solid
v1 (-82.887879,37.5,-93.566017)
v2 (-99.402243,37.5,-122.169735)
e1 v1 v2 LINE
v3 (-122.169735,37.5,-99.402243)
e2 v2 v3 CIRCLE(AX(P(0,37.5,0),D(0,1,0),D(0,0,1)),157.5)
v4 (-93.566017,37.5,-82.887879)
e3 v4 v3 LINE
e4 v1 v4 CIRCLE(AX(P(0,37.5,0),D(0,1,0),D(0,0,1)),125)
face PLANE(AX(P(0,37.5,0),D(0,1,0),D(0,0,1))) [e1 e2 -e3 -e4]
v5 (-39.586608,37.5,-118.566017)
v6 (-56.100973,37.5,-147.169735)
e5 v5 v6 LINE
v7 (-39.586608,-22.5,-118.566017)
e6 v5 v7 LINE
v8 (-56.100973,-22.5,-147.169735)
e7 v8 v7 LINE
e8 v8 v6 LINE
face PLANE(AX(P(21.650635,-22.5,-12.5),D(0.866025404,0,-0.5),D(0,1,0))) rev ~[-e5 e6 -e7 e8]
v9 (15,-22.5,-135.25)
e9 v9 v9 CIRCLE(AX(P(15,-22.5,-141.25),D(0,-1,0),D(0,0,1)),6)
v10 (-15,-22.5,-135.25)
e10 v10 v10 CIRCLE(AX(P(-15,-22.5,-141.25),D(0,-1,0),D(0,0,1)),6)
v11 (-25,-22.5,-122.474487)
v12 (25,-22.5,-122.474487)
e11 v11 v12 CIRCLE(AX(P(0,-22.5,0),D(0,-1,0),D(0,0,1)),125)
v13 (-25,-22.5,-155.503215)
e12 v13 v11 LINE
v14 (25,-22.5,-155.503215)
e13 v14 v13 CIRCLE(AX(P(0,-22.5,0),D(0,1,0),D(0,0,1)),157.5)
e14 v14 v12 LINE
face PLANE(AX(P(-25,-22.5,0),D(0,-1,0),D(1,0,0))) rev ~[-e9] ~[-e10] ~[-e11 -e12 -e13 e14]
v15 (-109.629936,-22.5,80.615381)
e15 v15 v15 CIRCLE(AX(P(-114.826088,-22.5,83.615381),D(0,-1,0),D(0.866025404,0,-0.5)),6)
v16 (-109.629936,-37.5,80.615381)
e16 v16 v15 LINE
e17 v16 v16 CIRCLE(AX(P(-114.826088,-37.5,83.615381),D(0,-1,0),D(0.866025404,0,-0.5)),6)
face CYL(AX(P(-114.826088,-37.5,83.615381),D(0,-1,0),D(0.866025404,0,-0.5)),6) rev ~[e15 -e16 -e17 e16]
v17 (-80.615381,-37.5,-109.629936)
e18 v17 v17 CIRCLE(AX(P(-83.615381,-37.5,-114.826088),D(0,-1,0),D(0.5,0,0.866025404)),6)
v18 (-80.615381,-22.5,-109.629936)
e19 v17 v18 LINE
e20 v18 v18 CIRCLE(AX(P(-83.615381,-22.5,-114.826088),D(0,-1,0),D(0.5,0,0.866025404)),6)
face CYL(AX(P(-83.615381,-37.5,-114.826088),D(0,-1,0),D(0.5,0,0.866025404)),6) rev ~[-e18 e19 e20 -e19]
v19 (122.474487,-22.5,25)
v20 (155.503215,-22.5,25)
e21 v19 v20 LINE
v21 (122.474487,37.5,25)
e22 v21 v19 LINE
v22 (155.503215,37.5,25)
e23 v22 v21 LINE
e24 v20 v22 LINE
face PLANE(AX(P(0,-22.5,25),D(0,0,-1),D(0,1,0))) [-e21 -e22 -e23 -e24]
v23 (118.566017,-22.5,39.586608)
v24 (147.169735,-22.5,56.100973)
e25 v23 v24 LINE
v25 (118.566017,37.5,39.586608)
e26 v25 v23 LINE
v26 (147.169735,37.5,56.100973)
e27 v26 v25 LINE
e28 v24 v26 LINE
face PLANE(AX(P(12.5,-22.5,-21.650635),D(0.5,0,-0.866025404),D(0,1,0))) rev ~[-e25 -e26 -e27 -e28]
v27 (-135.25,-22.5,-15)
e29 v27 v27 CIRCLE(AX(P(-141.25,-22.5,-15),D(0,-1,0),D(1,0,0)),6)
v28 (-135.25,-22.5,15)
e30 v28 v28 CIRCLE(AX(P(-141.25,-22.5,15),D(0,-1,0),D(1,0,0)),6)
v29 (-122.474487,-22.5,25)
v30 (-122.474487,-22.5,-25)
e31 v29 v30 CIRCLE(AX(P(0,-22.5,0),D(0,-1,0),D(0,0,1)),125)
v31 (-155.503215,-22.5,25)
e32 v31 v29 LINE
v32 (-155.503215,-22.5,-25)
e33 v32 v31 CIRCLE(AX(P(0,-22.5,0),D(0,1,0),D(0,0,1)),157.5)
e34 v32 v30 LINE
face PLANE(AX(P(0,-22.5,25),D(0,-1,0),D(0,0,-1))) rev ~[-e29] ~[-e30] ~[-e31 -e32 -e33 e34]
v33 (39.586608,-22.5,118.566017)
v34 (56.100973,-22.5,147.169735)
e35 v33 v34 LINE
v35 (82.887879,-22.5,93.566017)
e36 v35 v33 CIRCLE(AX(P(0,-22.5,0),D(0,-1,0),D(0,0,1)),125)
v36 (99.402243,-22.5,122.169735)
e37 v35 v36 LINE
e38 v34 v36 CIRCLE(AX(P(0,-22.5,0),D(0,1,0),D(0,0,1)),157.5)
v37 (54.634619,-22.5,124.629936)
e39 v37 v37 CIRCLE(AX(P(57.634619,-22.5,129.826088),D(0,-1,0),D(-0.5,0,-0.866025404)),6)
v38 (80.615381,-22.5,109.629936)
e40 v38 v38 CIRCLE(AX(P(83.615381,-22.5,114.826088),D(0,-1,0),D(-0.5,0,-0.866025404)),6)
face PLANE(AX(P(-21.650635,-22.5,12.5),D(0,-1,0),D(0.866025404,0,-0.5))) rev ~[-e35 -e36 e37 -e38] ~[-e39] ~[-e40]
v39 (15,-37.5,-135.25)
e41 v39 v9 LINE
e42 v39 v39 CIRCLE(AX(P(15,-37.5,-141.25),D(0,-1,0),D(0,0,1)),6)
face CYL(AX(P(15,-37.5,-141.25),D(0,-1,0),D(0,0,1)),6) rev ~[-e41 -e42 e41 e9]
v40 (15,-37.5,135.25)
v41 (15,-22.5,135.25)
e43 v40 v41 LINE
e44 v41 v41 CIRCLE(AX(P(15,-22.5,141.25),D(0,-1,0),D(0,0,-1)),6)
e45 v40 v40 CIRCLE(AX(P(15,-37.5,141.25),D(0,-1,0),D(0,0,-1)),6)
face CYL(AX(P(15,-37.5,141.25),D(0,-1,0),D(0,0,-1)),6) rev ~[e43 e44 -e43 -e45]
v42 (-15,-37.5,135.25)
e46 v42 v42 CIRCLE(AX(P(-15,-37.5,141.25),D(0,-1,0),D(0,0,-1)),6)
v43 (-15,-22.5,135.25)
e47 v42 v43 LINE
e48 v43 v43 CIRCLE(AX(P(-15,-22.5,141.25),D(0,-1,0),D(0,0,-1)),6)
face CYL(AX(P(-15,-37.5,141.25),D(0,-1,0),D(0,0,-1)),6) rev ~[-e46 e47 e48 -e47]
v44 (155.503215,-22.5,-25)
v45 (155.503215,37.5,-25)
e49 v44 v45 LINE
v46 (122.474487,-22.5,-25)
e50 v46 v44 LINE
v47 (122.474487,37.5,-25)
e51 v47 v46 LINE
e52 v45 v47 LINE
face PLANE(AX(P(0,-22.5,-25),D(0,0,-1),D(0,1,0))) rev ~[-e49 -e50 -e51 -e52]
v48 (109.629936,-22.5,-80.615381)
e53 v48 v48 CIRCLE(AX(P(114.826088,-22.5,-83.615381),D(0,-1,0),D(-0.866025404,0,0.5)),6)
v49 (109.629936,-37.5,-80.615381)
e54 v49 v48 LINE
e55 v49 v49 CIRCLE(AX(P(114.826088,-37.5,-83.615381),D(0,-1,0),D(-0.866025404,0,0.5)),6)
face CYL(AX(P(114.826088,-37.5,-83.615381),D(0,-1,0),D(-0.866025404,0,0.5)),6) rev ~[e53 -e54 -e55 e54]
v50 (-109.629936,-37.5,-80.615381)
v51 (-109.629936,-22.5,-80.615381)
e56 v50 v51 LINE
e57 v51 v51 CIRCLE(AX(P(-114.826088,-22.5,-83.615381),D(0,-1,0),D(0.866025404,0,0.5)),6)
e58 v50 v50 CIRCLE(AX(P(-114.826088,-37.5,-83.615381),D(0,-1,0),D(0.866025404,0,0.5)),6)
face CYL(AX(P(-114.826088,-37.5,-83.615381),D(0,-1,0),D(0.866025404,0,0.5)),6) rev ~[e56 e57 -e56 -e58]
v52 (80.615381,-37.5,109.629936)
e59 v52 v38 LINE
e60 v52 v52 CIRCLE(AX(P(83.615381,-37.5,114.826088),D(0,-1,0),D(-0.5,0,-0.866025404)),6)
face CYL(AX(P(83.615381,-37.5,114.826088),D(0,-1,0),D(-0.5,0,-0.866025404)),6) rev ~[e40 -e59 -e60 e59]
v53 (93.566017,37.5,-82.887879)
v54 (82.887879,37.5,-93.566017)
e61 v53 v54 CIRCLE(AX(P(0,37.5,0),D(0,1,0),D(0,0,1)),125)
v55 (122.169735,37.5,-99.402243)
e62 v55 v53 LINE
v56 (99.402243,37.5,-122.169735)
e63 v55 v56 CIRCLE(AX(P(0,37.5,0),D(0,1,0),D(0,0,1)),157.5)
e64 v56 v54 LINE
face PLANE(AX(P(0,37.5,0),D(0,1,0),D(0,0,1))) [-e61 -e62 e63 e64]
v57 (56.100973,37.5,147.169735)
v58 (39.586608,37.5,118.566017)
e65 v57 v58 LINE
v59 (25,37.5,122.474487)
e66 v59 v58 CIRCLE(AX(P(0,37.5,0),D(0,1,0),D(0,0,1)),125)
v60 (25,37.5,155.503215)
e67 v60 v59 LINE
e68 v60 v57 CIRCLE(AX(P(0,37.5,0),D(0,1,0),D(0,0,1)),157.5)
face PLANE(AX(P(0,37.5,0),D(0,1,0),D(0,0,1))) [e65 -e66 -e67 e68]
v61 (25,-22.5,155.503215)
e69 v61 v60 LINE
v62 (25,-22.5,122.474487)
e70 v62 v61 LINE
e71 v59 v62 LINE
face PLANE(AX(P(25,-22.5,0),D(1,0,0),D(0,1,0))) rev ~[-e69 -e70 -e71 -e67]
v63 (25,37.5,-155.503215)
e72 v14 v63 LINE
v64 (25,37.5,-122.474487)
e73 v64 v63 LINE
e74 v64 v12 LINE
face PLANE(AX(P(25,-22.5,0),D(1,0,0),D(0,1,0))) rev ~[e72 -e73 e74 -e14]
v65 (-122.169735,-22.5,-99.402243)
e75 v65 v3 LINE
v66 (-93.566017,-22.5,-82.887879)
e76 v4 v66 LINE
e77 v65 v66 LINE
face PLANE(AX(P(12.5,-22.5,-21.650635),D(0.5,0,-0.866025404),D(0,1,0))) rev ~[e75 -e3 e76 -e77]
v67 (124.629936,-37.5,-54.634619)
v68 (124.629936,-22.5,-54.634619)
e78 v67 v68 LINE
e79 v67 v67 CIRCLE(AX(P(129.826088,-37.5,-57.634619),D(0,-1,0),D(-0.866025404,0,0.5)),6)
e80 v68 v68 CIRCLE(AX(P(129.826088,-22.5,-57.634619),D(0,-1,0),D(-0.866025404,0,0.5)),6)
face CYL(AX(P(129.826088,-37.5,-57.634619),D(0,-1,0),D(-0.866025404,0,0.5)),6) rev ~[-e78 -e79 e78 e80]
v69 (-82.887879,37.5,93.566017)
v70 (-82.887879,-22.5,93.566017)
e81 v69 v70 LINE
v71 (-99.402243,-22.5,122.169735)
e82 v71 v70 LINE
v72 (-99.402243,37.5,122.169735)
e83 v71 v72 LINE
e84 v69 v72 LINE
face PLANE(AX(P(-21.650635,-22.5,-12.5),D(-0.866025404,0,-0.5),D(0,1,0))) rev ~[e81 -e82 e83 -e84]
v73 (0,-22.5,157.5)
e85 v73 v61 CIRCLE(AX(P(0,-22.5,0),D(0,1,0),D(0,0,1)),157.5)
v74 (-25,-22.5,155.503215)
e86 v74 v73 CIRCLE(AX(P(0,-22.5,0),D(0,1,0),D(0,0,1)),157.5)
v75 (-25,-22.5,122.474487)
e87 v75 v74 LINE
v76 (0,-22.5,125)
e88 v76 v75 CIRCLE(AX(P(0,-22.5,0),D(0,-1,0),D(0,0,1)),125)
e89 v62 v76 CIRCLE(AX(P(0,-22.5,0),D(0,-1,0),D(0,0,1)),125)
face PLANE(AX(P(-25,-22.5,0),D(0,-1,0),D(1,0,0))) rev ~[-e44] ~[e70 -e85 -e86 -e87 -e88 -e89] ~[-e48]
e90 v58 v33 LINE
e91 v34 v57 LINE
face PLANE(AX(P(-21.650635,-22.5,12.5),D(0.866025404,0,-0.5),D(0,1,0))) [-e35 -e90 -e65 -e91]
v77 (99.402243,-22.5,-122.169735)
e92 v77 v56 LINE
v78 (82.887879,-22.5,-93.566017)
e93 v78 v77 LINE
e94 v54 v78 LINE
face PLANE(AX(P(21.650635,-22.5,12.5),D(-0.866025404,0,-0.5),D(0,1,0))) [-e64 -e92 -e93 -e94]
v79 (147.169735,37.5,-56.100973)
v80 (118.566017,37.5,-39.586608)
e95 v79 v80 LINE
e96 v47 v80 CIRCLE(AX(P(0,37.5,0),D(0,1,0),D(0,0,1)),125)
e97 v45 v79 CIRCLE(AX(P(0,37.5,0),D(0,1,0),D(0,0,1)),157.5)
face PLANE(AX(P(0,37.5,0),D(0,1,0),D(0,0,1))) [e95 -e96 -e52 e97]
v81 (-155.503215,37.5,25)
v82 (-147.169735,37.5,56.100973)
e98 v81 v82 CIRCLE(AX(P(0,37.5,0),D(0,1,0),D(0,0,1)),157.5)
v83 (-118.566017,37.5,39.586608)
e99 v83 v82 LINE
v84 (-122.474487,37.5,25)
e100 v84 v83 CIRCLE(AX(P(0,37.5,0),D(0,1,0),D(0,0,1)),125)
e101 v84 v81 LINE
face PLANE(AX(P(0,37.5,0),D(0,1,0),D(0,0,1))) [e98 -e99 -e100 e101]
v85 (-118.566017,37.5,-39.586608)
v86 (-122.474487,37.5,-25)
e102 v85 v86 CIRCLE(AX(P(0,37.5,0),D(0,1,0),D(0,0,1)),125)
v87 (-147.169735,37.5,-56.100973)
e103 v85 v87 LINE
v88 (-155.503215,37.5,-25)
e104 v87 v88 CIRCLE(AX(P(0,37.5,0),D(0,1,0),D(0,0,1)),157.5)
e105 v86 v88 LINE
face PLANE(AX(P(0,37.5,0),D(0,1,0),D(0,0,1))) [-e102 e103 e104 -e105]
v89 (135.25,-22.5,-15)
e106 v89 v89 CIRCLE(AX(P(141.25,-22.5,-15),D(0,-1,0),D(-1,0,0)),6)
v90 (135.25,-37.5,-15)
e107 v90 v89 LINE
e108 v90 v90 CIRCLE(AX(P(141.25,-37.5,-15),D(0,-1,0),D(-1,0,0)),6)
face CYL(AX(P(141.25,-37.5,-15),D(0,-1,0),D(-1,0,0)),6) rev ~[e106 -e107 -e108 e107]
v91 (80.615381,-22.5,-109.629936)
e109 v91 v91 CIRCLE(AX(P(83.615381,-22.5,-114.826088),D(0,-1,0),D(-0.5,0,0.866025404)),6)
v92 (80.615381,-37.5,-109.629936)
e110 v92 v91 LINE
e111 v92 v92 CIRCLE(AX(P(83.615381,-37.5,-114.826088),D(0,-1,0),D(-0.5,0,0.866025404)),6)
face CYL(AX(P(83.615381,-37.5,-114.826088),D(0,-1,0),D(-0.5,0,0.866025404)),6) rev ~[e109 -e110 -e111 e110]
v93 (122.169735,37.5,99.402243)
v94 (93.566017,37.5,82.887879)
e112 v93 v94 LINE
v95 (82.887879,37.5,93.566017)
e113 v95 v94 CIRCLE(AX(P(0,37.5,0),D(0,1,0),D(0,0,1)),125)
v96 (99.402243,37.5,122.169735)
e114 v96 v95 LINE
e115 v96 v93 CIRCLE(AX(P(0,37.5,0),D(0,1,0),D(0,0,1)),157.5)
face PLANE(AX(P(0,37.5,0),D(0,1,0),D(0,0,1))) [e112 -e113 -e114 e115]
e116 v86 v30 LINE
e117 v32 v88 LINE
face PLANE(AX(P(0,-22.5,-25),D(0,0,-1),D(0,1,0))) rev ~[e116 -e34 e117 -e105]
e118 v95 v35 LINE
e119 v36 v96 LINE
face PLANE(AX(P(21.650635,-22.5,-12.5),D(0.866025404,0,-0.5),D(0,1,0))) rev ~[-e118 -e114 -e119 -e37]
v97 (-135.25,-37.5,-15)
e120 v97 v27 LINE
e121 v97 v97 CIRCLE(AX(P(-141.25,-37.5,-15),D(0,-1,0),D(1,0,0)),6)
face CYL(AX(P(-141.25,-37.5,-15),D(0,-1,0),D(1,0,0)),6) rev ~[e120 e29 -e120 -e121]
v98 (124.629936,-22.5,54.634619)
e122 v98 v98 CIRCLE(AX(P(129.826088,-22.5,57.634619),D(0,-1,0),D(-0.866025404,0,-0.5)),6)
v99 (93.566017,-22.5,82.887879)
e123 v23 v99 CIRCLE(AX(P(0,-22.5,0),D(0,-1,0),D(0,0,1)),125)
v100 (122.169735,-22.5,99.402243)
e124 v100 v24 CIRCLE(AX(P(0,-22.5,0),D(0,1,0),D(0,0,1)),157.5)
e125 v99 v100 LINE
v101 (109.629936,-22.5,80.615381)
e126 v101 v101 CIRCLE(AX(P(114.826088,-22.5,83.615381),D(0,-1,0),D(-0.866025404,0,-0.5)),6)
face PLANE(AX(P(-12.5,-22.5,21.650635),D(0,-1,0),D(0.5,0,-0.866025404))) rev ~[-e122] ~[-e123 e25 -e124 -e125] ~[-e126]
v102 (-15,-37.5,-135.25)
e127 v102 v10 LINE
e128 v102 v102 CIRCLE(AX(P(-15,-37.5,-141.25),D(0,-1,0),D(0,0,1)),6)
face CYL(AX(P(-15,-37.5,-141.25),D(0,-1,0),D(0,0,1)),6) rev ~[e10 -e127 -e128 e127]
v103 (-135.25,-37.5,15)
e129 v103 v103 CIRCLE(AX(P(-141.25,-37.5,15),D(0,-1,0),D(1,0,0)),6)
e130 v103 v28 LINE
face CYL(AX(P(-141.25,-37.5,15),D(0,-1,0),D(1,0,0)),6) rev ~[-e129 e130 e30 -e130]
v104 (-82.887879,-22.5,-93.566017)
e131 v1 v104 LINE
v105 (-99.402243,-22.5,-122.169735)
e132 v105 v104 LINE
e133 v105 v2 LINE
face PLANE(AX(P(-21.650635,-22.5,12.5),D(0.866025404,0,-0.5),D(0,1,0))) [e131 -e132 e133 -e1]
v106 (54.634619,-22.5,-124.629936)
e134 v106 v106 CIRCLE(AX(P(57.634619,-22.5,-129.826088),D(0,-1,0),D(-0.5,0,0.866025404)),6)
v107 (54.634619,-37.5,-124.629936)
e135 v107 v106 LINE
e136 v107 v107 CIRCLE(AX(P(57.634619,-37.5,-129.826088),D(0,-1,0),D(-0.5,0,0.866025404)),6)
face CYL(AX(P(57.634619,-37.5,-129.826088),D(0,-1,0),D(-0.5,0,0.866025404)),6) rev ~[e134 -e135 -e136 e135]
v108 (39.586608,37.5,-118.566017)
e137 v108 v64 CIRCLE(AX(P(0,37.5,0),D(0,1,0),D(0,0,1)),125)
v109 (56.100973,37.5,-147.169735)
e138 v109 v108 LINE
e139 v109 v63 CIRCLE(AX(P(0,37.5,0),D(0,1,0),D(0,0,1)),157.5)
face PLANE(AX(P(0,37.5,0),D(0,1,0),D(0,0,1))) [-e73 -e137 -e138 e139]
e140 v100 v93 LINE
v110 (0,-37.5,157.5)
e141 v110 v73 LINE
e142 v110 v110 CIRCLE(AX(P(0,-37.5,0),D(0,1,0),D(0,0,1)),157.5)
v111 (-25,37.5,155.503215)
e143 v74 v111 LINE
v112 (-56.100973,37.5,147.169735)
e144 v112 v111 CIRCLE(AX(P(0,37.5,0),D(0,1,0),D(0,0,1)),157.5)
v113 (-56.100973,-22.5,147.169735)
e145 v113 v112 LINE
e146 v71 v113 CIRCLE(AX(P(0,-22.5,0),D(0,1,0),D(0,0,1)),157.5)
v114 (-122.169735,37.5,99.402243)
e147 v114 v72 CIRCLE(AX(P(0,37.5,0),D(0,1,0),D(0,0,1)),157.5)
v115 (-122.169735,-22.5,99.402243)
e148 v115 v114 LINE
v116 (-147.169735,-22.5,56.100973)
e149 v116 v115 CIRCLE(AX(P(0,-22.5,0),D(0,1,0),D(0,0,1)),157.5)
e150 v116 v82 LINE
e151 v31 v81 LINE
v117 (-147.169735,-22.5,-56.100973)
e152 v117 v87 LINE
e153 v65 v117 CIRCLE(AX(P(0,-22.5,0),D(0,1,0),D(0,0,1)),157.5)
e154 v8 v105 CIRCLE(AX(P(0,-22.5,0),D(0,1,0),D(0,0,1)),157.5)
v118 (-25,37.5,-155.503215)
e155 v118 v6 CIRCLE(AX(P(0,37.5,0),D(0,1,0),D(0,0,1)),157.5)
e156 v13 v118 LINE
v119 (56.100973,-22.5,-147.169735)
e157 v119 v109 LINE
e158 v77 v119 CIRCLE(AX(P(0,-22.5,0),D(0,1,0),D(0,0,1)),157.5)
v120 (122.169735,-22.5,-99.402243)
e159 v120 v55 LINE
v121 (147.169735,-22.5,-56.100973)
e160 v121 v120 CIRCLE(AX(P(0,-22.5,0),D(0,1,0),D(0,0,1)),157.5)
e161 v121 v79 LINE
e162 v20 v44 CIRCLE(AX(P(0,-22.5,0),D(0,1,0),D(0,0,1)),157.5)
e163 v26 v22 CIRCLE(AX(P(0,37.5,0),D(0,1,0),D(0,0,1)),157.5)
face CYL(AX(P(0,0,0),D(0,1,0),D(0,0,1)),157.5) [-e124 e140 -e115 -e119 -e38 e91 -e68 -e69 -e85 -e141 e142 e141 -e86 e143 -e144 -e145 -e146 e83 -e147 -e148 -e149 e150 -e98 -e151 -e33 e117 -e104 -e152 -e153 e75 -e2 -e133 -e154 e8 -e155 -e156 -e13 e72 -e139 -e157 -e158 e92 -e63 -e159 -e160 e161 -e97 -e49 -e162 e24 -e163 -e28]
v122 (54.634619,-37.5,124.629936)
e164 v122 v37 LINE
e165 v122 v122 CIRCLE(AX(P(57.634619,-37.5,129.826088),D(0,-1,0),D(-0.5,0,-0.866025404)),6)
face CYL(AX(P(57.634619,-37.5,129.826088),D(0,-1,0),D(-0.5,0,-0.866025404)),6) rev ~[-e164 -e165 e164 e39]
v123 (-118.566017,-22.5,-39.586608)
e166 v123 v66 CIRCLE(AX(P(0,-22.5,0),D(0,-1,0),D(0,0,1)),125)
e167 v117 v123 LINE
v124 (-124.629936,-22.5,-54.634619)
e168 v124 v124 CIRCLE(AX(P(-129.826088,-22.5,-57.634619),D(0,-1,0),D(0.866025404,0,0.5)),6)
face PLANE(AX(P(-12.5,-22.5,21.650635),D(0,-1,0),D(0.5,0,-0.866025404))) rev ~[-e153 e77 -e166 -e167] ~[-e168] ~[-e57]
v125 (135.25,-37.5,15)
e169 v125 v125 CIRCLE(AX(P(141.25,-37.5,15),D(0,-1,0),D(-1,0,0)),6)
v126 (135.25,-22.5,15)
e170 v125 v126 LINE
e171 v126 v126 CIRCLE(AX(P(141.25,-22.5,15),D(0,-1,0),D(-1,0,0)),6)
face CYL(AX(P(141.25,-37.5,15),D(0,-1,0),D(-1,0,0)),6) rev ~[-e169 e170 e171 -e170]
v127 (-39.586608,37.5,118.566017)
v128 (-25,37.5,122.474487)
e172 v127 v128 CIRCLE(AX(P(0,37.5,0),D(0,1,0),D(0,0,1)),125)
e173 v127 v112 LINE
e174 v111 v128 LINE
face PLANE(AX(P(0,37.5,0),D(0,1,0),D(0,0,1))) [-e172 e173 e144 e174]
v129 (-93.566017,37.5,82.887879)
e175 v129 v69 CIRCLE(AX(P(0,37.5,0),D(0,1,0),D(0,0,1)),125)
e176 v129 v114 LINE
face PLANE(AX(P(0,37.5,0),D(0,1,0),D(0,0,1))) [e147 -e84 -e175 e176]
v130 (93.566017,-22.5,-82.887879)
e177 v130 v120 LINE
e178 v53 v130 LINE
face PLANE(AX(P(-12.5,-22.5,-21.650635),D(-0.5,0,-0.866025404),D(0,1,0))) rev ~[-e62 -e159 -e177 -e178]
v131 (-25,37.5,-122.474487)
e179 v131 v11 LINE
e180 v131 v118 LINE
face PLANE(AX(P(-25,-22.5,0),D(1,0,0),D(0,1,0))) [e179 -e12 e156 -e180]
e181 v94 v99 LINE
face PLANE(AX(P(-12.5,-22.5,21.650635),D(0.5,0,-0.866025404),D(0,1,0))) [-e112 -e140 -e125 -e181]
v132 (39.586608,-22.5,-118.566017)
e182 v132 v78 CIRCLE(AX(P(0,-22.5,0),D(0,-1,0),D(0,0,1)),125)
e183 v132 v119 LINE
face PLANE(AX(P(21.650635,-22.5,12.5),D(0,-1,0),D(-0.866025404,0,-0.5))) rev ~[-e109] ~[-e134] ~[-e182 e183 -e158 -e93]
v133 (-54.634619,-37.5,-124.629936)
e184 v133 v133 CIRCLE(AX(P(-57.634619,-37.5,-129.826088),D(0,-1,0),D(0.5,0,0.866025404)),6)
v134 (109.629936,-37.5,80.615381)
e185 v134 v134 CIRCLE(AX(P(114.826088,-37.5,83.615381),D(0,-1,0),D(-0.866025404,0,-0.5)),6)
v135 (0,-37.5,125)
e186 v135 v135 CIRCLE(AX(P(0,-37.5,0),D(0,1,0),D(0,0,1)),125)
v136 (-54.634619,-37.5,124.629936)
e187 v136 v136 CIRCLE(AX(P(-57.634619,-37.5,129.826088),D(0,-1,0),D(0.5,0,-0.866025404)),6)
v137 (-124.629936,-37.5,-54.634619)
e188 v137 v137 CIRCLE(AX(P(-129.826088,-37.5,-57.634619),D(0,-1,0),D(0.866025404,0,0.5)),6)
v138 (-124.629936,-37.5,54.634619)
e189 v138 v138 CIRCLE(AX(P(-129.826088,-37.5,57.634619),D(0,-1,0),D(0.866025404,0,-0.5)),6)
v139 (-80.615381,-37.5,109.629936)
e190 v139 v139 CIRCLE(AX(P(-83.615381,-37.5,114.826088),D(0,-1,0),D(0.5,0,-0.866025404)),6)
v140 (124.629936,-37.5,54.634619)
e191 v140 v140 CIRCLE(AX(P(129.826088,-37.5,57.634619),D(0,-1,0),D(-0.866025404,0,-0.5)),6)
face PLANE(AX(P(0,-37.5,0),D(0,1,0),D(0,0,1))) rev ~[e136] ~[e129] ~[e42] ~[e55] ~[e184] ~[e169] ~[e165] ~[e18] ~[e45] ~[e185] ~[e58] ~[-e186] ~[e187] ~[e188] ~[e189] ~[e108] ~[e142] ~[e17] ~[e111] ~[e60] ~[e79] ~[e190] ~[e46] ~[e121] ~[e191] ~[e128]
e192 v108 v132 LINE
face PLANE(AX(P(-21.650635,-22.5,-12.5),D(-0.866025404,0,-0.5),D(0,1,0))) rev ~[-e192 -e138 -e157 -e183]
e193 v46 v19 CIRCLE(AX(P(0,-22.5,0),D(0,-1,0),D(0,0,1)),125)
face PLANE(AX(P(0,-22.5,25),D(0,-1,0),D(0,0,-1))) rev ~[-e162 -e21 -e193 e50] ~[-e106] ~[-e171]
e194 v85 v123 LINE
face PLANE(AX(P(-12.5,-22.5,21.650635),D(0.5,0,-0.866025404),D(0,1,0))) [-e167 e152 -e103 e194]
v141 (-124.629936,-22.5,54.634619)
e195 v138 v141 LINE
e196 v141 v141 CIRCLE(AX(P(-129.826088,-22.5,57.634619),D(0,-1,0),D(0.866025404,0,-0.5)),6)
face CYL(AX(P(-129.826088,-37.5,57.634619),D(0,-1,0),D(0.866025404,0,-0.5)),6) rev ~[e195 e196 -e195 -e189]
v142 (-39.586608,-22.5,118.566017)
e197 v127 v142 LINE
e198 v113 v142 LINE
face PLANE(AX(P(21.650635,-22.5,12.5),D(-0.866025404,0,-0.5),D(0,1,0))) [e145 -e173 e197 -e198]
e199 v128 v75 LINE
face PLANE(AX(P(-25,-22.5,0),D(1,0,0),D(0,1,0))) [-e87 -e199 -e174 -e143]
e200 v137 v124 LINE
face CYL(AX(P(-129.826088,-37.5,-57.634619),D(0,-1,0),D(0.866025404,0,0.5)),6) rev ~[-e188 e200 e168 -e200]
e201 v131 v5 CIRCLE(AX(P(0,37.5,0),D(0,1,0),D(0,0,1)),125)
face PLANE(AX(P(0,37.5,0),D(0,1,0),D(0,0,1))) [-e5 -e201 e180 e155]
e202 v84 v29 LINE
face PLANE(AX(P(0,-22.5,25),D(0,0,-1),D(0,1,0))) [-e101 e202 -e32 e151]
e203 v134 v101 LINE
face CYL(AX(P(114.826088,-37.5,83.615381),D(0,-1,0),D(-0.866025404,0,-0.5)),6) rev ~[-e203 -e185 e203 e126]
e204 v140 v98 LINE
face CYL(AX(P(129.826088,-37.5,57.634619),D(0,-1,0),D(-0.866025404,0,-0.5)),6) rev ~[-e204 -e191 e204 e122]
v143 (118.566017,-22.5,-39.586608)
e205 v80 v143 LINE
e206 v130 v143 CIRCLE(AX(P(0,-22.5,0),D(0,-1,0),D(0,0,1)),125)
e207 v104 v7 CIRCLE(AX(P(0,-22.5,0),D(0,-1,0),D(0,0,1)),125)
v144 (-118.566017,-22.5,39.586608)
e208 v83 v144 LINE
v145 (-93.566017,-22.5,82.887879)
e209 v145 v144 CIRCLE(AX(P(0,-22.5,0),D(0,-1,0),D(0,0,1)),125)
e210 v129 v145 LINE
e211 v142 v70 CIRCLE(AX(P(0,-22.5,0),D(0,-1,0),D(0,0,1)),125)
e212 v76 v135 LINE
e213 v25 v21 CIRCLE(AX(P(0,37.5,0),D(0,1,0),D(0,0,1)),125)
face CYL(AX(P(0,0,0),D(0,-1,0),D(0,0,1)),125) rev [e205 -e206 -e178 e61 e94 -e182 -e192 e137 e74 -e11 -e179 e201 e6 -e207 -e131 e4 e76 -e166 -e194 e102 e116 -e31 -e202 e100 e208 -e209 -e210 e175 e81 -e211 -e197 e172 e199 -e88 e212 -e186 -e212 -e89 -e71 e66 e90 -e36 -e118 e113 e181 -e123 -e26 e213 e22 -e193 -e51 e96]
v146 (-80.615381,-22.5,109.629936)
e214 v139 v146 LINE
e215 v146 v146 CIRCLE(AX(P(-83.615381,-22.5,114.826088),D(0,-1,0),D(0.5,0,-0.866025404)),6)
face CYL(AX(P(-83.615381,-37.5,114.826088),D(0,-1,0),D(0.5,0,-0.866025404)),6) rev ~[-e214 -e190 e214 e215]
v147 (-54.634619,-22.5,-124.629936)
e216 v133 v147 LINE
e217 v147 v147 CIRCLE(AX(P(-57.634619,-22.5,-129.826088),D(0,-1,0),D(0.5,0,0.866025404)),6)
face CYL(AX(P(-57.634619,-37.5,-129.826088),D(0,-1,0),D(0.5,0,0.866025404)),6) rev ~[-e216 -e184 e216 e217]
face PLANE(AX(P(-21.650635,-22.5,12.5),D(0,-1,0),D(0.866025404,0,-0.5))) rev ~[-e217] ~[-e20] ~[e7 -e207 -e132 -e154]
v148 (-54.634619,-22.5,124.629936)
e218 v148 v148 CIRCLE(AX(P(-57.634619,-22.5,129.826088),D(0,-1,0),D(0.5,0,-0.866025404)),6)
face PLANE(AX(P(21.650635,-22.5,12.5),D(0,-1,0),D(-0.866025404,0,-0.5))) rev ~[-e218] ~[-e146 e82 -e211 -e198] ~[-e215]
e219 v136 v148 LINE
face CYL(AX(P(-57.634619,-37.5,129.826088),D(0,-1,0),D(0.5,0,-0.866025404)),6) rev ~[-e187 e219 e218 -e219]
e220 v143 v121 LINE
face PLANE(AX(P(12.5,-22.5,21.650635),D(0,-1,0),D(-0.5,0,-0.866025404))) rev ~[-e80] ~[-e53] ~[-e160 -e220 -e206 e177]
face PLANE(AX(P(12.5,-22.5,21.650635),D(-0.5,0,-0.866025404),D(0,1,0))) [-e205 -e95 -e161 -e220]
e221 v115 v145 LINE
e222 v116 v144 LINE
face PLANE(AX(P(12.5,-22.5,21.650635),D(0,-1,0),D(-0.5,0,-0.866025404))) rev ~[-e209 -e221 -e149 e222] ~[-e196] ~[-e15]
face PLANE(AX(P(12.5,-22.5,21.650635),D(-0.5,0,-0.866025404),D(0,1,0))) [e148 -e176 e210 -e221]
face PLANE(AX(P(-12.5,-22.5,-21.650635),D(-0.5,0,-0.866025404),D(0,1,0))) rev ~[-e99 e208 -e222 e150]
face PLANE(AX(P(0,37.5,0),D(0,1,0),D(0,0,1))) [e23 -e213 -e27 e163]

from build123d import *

# Parameters (mm, degrees)
SKETCH1_R           = 157.5
SKETCH1_R_2         = 125
BOSS_EXTRUDE1_DEPTH = 37.5
SKETCH2_W           = 50
SKETCH2_H           = 60
CUT_EXTRUDE1_DEPTH  = 226.873305196
CIRPATTERN1_COUNT   = 12
SKETCH3_R           = 6
CUT_EXTRUDE2_DEPTH  = 236.02659424
CIRPATTERN2_COUNT   = 12


with BuildPart() as part:
    # Sketch1 → Boss-Extrude1 (new, symmetric)
    with BuildSketch(Plane(origin=(0, 0, 0), x_dir=(1, 0, 0), z_dir=(0, 1, 0))):
        with Locations(Location((0, 0, 0), (0, 0, 270))):
            Circle(SKETCH1_R)
        with Locations(Location((0, 0, 0), (0, 0, 270))):
            Circle(SKETCH1_R_2, mode=Mode.SUBTRACT)
    extrude(amount=BOSS_EXTRUDE1_DEPTH, both=True)

    # Sketch2 → Cut-Extrude1 (cut, symmetric)
    with BuildSketch(Plane.XY):
        with Locations((0, 7.5)):
            Rectangle(SKETCH2_W, SKETCH2_H)
    cut_extrude1 = extrude(amount=CUT_EXTRUDE1_DEPTH, both=True, mode=Mode.SUBTRACT)

    # CirPattern1: Cut-Extrude1 ×12 about axis
    cirpattern1_axis = Axis((0, 0, 0), (0, 1, 0))
    for i in range(1, CIRPATTERN1_COUNT):
        add(cut_extrude1.rotate(cirpattern1_axis, i * 360 / CIRPATTERN1_COUNT), mode=Mode.SUBTRACT)

    # Sketch3 → Cut-Extrude2 (cut, through all)
    with BuildSketch(Plane.XZ.offset(37.5)):
        with Locations(Location((-15, 141.25, 0), (0, 0, 270))):
            Circle(SKETCH3_R)
        with Locations(Location((15, 141.25, 0), (0, 0, 270))):
            Circle(SKETCH3_R)
    cut_extrude2 = extrude(amount=-CUT_EXTRUDE2_DEPTH, mode=Mode.SUBTRACT)

    # CirPattern2: Cut-Extrude2 ×12 about axis
    cirpattern2_axis = Axis((0, 0, 0), (0, 1, 0))
    for i in range(1, CIRPATTERN2_COUNT):
        add(cut_extrude2.rotate(cirpattern2_axis, i * 360 / CIRPATTERN2_COUNT), mode=Mode.SUBTRACT)


solid = part.part
